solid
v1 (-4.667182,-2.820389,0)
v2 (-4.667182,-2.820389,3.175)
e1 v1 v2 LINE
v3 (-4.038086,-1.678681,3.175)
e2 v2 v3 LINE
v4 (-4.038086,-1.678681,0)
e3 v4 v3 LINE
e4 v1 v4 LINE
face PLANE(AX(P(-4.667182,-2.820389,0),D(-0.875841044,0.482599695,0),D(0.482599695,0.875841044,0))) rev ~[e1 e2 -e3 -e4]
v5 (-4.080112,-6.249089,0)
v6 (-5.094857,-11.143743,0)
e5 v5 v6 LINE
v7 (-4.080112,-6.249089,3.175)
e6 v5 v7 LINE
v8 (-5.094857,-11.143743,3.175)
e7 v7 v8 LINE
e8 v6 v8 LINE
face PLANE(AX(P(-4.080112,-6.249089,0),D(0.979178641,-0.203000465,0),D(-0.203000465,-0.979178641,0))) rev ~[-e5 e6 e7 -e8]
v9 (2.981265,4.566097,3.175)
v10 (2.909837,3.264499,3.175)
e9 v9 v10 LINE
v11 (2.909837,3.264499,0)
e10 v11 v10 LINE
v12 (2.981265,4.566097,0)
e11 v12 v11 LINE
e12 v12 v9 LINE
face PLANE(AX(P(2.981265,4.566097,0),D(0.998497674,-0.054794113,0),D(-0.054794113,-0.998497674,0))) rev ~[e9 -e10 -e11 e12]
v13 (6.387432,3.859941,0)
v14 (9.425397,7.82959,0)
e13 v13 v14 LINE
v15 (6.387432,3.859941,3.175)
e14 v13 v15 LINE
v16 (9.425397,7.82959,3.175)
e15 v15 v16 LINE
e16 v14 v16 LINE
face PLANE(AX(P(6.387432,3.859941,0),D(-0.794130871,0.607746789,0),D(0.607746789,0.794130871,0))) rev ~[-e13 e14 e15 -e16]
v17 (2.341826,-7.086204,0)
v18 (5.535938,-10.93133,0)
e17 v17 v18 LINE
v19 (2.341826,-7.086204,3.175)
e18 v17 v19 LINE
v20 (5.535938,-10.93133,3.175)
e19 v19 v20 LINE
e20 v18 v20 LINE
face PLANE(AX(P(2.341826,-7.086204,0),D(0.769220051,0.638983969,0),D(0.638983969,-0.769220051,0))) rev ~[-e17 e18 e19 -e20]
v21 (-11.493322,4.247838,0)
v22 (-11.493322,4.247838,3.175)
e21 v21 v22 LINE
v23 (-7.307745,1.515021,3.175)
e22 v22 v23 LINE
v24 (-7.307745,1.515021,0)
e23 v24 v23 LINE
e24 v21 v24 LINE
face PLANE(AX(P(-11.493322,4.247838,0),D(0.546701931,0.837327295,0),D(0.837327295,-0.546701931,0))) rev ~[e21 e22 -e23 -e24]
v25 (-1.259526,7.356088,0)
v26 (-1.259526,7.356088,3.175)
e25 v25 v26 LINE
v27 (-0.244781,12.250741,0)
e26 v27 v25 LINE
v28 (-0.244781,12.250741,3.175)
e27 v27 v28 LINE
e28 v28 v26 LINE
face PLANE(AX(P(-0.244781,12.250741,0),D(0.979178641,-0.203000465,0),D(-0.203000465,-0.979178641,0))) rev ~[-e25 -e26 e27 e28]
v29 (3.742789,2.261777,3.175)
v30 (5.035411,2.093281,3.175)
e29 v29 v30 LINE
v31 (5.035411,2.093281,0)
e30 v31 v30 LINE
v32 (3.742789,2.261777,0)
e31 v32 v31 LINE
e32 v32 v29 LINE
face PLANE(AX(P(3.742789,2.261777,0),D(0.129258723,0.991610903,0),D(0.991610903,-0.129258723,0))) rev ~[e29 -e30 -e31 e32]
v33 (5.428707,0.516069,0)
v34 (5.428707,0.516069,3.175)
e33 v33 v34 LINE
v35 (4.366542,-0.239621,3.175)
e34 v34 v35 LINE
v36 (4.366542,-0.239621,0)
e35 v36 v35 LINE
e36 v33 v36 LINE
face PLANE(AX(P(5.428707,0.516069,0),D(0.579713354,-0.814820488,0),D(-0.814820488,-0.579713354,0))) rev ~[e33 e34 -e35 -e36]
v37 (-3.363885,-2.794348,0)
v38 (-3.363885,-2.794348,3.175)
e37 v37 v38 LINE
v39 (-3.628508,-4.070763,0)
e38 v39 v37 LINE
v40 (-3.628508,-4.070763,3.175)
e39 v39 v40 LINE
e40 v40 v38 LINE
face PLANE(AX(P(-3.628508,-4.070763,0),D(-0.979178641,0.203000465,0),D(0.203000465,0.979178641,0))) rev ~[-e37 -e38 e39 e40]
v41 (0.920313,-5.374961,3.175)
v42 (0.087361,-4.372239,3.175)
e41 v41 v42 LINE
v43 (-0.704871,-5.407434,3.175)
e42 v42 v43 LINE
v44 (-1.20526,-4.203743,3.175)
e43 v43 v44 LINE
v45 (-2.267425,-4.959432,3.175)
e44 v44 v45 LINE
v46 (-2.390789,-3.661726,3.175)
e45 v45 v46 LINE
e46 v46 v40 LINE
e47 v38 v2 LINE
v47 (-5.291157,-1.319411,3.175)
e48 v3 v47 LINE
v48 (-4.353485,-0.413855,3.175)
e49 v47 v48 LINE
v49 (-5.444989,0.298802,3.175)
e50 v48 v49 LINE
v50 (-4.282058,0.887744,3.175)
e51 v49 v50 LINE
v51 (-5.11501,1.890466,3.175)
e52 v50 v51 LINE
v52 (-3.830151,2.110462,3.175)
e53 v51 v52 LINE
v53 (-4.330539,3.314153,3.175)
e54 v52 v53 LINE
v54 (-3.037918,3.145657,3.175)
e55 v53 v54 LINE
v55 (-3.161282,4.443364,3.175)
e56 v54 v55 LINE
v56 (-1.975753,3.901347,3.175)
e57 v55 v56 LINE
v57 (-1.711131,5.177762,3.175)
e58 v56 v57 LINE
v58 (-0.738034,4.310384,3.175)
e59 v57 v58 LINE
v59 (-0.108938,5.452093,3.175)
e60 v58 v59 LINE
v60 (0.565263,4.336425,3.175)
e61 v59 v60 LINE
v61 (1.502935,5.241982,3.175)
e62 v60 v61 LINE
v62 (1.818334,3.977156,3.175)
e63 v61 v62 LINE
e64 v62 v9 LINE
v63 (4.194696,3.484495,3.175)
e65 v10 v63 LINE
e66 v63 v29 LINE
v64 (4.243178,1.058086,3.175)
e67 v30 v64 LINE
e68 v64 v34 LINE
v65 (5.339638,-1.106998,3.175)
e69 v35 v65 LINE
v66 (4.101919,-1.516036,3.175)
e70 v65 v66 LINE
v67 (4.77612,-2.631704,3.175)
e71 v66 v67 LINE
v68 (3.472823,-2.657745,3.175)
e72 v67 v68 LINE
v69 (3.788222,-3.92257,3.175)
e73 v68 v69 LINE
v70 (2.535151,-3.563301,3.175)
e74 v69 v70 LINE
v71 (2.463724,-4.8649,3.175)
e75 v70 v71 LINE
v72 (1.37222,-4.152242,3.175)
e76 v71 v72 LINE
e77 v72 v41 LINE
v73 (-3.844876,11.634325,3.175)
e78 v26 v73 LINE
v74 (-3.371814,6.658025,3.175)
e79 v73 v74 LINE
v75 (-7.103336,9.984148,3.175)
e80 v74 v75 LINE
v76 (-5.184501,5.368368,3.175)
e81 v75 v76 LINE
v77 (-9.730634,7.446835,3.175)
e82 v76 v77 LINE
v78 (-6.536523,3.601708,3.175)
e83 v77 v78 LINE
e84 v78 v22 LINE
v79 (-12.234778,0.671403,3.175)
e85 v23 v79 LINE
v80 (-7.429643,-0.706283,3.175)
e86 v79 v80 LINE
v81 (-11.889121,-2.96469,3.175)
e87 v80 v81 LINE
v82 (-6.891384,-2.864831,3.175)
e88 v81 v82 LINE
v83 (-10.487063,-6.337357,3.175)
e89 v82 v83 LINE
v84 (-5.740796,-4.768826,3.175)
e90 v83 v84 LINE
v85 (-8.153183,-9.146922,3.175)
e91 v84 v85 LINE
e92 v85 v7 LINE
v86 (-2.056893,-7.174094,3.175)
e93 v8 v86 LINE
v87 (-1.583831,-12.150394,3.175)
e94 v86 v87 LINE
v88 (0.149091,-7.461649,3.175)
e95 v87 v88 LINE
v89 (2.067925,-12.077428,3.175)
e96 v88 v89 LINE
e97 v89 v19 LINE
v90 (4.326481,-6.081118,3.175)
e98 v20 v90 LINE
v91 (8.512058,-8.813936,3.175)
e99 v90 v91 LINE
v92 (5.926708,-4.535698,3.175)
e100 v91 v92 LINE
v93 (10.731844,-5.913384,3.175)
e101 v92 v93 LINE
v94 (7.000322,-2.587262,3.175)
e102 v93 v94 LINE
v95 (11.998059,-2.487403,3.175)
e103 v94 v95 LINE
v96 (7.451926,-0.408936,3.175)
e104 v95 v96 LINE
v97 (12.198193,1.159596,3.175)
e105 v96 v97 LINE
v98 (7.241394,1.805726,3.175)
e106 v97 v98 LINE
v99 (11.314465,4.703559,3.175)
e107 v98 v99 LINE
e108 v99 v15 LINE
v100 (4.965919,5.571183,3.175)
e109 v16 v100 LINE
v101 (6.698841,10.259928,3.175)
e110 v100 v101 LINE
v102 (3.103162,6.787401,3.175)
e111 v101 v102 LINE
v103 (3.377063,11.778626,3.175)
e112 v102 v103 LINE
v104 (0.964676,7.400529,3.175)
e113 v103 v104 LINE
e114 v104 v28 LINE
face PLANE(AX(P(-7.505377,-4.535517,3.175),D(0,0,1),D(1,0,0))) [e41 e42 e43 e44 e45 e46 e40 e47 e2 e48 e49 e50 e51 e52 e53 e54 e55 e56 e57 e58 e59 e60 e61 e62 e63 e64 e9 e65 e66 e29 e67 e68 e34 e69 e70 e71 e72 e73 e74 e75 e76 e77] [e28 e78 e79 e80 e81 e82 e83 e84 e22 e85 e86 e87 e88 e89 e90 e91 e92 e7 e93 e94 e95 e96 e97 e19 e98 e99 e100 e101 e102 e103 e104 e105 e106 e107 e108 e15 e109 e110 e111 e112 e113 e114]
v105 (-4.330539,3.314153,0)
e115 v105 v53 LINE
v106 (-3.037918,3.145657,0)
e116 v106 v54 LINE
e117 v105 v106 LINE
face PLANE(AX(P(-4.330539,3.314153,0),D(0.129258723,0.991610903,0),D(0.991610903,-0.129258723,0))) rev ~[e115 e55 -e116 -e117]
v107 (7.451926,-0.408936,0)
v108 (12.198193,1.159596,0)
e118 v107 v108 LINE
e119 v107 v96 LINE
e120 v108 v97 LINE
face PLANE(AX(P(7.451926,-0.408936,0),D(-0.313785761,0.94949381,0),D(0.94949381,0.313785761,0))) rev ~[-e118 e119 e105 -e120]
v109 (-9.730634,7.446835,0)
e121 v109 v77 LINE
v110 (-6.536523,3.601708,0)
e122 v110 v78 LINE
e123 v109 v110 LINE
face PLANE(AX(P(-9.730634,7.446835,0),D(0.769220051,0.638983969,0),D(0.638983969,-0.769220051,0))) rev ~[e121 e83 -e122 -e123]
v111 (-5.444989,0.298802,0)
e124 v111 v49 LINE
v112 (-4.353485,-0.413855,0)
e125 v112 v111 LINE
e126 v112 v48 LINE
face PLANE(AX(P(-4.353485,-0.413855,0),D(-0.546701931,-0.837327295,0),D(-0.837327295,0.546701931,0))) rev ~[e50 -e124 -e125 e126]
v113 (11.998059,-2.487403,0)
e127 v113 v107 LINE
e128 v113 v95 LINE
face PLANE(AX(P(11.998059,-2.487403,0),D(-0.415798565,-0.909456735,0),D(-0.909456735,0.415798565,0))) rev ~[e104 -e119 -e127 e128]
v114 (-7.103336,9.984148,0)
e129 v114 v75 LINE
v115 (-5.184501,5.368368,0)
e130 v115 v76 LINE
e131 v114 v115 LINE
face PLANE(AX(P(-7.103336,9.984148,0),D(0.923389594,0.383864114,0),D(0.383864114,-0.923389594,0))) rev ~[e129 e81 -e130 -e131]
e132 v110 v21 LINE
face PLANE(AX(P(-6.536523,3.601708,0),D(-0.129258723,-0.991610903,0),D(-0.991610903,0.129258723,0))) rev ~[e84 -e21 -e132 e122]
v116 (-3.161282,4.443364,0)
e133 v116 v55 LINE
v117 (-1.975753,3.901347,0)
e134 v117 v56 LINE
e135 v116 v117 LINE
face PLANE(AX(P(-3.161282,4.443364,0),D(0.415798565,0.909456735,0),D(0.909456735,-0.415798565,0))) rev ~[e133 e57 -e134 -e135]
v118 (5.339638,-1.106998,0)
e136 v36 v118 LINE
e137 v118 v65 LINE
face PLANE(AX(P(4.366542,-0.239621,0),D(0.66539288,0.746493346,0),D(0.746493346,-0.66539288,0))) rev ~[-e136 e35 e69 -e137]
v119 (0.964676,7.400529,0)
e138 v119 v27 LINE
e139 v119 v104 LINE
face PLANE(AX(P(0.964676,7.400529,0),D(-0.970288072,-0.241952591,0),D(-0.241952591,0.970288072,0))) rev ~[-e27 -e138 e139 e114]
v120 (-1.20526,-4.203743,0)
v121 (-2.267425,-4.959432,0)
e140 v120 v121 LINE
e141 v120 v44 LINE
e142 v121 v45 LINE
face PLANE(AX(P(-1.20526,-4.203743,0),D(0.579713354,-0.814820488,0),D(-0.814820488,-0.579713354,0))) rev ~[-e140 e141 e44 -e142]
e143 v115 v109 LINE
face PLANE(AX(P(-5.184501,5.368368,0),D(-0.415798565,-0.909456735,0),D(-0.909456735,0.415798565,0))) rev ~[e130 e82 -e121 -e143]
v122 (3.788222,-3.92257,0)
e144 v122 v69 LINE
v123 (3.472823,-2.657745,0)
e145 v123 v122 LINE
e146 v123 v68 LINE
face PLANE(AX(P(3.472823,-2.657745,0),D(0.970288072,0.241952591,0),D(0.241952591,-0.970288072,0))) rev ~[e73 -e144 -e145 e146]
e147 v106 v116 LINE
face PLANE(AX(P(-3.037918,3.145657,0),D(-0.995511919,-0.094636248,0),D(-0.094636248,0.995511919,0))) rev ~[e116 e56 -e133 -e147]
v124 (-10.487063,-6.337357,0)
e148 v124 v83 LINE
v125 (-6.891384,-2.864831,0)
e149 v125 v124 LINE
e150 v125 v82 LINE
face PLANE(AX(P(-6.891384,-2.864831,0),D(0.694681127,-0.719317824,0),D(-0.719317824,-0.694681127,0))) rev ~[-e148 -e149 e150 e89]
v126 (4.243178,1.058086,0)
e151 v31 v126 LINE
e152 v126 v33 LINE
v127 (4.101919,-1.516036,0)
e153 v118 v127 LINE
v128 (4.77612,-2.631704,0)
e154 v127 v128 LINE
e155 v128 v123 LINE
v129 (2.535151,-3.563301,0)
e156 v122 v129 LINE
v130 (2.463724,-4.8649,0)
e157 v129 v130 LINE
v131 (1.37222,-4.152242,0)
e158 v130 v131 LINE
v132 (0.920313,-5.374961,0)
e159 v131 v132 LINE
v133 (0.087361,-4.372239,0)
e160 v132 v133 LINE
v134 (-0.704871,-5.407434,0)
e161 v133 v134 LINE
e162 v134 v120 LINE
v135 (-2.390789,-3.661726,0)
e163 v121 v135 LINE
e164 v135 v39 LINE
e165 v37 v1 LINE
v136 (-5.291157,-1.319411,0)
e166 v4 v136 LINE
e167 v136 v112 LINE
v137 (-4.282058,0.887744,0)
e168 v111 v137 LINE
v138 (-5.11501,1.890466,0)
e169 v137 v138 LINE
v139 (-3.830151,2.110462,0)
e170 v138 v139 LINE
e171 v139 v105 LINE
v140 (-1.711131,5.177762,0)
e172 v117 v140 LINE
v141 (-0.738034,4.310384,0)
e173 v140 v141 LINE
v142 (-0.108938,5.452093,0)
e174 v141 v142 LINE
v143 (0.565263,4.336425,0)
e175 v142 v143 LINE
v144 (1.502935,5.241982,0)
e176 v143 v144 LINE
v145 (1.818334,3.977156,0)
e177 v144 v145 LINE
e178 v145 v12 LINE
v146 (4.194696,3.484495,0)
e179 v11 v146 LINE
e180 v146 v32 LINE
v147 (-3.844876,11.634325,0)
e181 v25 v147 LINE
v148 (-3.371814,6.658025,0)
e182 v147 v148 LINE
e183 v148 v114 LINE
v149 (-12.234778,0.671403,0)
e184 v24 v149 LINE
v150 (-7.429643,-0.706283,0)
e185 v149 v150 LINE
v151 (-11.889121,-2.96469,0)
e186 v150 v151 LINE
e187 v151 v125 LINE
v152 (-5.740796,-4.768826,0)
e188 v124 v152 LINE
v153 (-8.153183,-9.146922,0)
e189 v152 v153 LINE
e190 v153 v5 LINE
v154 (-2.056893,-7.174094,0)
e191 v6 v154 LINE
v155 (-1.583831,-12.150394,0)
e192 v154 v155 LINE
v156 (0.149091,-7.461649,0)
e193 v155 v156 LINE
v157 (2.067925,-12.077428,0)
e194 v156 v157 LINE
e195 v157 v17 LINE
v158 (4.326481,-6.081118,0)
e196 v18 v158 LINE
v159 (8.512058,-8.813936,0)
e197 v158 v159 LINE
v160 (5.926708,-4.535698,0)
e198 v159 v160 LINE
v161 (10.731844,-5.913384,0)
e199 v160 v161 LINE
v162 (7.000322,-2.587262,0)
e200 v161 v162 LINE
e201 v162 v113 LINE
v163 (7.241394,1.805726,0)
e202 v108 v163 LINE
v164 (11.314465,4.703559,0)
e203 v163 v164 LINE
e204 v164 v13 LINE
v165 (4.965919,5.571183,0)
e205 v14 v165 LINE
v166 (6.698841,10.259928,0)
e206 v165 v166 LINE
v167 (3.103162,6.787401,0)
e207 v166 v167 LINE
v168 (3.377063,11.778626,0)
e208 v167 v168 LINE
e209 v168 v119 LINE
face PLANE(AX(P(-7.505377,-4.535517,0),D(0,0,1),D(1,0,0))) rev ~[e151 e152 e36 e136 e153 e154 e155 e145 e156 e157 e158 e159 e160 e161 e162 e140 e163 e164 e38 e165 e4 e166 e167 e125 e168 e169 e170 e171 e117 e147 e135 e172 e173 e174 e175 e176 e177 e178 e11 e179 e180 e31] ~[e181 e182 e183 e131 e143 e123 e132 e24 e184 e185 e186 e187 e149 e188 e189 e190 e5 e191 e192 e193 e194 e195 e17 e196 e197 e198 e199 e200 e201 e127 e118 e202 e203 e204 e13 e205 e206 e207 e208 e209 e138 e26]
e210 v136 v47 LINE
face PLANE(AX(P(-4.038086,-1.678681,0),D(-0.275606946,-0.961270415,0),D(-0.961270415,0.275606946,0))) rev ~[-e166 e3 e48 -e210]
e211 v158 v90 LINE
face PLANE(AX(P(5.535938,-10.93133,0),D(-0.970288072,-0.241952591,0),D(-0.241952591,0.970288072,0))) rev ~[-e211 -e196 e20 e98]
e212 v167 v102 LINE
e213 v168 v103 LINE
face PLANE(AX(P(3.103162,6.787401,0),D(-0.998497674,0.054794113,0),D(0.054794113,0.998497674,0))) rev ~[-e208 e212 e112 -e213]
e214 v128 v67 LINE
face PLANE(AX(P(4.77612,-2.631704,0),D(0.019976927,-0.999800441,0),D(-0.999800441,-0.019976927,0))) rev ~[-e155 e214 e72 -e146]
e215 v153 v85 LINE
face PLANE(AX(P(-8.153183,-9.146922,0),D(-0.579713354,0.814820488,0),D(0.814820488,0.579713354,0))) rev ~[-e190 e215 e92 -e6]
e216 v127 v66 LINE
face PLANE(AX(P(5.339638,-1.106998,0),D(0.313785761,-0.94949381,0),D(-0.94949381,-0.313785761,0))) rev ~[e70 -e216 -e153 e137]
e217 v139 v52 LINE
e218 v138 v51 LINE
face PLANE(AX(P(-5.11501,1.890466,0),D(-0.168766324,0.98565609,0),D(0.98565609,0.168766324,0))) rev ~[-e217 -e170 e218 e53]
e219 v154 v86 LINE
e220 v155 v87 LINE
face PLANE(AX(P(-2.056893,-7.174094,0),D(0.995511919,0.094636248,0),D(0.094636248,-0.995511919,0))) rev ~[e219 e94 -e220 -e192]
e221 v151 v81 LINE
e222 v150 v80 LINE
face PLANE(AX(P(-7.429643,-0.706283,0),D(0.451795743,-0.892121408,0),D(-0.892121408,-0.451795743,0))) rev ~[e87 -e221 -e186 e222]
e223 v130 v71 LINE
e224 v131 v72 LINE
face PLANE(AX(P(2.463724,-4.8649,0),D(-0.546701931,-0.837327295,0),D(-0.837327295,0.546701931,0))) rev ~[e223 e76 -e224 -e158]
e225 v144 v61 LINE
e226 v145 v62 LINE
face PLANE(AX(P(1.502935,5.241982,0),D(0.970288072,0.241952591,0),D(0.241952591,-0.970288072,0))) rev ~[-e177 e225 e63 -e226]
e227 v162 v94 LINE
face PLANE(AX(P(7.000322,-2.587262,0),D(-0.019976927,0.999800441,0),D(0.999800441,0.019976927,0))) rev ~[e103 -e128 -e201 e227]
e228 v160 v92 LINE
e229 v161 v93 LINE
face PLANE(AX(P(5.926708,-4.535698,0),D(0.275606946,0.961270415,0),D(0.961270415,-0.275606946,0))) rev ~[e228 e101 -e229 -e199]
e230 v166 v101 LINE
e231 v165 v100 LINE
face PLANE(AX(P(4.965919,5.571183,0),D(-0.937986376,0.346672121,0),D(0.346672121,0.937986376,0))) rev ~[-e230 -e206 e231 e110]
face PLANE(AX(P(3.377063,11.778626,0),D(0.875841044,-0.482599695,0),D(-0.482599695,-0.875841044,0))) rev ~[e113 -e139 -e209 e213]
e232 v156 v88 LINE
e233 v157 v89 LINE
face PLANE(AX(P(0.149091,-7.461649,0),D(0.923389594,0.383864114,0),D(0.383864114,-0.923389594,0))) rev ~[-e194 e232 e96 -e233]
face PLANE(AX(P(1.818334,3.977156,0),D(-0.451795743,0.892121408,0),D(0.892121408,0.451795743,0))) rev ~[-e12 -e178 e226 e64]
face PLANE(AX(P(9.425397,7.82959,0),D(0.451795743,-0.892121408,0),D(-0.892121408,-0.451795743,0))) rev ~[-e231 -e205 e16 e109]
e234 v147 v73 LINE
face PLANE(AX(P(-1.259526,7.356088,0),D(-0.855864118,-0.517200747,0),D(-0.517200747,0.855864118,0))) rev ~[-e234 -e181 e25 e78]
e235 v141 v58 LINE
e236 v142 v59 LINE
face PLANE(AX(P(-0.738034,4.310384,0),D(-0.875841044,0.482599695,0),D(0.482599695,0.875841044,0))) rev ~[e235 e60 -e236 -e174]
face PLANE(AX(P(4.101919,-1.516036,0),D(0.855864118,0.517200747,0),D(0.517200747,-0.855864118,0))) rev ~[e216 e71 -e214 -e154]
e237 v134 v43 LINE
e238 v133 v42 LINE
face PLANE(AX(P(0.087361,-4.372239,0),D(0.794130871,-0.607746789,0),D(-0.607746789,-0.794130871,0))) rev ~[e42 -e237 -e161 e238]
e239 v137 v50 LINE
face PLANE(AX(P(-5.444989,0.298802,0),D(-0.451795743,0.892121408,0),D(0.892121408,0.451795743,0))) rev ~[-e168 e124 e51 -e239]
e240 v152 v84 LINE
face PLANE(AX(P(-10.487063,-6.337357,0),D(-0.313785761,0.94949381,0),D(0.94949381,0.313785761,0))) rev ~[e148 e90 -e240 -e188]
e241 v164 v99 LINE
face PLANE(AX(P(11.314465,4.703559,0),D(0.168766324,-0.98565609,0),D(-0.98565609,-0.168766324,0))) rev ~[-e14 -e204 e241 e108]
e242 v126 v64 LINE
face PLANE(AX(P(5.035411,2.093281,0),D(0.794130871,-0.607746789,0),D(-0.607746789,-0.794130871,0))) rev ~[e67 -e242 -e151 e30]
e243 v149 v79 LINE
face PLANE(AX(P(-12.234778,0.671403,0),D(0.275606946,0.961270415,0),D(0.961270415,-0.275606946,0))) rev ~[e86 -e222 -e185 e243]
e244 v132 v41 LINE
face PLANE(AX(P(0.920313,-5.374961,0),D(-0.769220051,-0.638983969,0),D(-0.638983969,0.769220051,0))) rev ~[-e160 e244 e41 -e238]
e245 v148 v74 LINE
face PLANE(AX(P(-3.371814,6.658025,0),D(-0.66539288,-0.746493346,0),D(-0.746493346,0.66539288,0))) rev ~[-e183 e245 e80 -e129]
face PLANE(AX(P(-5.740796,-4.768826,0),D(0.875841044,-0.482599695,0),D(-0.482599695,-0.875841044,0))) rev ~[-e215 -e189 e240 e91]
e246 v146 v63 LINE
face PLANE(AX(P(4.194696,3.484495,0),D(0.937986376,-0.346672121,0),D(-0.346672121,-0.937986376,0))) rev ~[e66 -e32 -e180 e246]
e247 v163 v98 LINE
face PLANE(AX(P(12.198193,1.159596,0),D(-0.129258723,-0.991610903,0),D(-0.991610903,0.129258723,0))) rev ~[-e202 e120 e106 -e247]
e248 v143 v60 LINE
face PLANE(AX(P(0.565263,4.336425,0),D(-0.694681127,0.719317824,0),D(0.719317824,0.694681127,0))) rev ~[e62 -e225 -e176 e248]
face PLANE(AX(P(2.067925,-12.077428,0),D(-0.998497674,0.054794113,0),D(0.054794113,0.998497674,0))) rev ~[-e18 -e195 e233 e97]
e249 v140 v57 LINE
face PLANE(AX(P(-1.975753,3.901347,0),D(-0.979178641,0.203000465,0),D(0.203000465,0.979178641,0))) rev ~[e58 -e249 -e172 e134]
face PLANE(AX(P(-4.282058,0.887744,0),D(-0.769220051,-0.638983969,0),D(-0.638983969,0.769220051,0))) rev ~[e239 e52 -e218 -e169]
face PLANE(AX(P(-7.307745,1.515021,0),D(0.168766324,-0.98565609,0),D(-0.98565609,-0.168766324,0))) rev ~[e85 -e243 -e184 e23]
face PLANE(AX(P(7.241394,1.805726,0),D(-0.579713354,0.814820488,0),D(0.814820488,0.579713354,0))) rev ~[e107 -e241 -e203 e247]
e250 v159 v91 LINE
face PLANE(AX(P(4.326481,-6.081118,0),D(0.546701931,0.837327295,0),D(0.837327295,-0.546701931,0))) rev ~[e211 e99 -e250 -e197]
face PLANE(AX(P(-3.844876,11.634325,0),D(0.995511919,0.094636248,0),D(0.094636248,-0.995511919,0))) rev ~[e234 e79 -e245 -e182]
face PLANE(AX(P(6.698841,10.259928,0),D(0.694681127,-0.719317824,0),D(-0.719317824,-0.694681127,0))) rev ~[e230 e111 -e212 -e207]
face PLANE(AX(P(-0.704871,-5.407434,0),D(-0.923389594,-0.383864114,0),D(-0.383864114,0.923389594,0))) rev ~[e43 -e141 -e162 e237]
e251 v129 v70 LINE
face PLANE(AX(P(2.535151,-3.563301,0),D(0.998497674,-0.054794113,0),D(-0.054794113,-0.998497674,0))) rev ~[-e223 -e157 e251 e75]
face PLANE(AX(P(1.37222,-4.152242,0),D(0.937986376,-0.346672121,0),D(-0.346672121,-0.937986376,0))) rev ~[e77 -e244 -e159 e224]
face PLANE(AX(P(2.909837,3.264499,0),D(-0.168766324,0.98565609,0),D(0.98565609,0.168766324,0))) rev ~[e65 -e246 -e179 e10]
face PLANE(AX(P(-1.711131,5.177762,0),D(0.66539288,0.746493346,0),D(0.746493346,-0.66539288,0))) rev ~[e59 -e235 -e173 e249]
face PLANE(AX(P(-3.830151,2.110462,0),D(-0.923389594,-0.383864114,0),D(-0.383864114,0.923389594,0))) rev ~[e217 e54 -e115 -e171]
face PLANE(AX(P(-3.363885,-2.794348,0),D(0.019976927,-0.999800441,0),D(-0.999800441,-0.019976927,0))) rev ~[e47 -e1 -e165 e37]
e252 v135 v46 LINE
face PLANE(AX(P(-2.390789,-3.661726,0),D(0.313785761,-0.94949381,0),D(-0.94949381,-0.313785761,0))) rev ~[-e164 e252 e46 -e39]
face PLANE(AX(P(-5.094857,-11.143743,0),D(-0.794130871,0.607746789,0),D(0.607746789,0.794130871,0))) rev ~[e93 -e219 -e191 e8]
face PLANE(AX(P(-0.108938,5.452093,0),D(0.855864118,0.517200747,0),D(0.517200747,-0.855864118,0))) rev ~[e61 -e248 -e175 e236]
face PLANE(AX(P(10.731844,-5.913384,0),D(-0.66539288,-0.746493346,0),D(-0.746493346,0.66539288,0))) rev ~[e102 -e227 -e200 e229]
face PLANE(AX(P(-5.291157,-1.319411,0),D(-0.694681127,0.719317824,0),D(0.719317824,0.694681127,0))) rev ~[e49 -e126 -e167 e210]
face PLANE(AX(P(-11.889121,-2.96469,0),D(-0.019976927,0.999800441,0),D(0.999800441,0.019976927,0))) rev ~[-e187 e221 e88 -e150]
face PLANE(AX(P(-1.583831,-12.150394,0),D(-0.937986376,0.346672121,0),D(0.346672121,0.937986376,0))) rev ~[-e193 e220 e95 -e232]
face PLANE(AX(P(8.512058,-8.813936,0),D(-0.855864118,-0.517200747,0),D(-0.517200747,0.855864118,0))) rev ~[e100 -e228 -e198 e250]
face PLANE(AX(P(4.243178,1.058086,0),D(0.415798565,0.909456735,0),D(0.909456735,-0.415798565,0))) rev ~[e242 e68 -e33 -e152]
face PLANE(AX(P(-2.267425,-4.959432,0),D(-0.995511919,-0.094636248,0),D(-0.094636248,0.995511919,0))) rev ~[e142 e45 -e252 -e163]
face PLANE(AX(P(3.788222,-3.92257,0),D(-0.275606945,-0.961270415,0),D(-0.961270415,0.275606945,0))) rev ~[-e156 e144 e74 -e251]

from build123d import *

# Parameters (mm, degrees)
F1_DEPTH = 3.175


with BuildPart() as f1:
    # F0 (on Top) → F1 (new body)
    with BuildSketch(Plane.XY):
        Polygon((-10.4870628137, -6.3373573051), (-5.7407955294, -4.7688256549), (-4.6671820235, -2.8203893327), (-6.8913841292, -2.8648309238), align=None)
        Polygon((-8.1531831795, -9.14692233), (-4.0801120539, -6.2490892989), (-3.6285078717, -4.0707633994), (-5.7407955294, -4.7688256549), align=None)
        Polygon((-4.0801120539, -6.2490892989), (-5.0948574403, -11.1437431653), (-2.056892717, -7.174093935), (-2.267424872, -4.9594322738), align=None)
        Polygon((-0.704871222, -5.4074338266), (-2.056892717, -7.174093935), (-1.583831259, -12.1503935168), (0.1490905642, -7.461648842), align=None)
        Polygon((2.4637240027, -4.8648995948), (2.3418264946, -7.0862035045), (5.5359375832, -10.9313301636), (4.326480864, -6.0811178883), align=None)
        Polygon((3.7882219865, -3.9225703575), (4.326480864, -6.0811178883), (8.512057538, -8.8139355875), (5.9267084221, -4.5356982612), align=None)
        Polygon((4.7761198224, -2.6317035301), (5.9267084221, -4.5356982612), (10.7318438259, -5.9133841552), (7.0003219281, -2.587261939), align=None)
        Polygon((5.3396384525, -1.106998295), (7.0003219281, -2.587261939), (11.998058694, -2.4874025902), (7.4519261103, -0.4089360395), align=None)
        Polygon((5.4287067735, 0.5160685966), (7.4519261103, -0.4089360395), (12.1981933945, 1.1595956107), (7.2413939554, 1.8057256217), align=None)
        Polygon((5.0354106741, 2.0932805287), (7.2413939554, 1.8057256217), (11.314465081, 4.7035586528), (6.3874321692, 3.8599406371), align=None)
        Polygon((4.1946962388, 3.4844952996), (6.3874321692, 3.8599406371), (9.4253968924, 7.8295898674), (4.965919004, 5.5711829878), align=None)
        Polygon((2.9812646346, 4.5660973716), (4.965919004, 5.5711829878), (6.6988408272, 10.2599276626), (3.1031621427, 6.7874012813), align=None)
        Polygon((0.964675707, 7.400529185), (1.5029345845, 5.2419816542), (3.1031621427, 6.7874012813), (3.3770633571, 11.7786258601), align=None)
        Polygon((-0.2447810122, 12.2507414603), (-1.2595263986, 7.3560875939), (-0.1089377989, 5.4520928628), (0.964675707, 7.400529185), align=None)
        Polygon((-3.3718140564, 6.6580253384), (-1.7111305808, 5.1777616944), (-1.2595263986, 7.3560875939), (-3.8448755144, 11.6343249202), align=None)
        Polygon((-7.1033359542, 9.9841475546), (-5.1845012383, 5.3683683133), (-3.1612819015, 4.4433636772), (-3.3718140564, 6.6580253384), align=None)
        Polygon((-9.730633822, 7.446834864), (-6.5365227334, 3.6017082049), (-4.3305394521, 3.3141532979), (-5.1845012383, 5.3683683133), align=None)
        Polygon((-11.4933221725, 4.2478382159), (-7.3077454986, 1.5150205167), (-5.1150095682, 1.8904658542), (-6.5365227334, 3.6017082049), align=None)
        Polygon((-12.2347784104, 0.671402501), (-7.4296430067, -0.706283393), (-5.4449886373, 0.2988022231), (-7.3077454986, 1.5150205167), align=None)
        Polygon((-11.8891208951, -2.9646902726), (-6.8913841292, -2.8648309238), (-5.291156571, -1.3194112967), (-7.4296430067, -0.706283393), align=None)
        Polygon((-6.8913841292, -2.8648309238), (-4.6671820235, -2.8203893327), (-4.0380858348, -1.6786806476), (-5.291156571, -1.3194112967), align=None)
        Polygon((-5.7407955294, -4.7688256549), (-3.6285078717, -4.0707633994), (-3.3638852041, -2.794348271), (-4.6671820235, -2.8203893327), align=None)
        Polygon((-3.6285078717, -4.0707633994), (-4.0801120539, -6.2490892989), (-2.267424872, -4.9594322738), (-2.3907886109, -3.6617257877), align=None)
        Polygon((-2.267424872, -4.9594322738), (-2.056892717, -7.174093935), (-0.704871222, -5.4074338266), (-1.2052599578, -4.2037428989), align=None)
        Polygon((0.0873613318, -4.3722390058), (-0.704871222, -5.4074338266), (0.1490905642, -7.461648842), (0.9203133294, -5.3749611537), align=None)
        Polygon((0.9203133294, -5.3749611537), (0.1490905642, -7.461648842), (2.0679252801, -12.0774280832), (2.3418264946, -7.0862035045), align=None)
        Polygon((1.3722201837, -4.1522424897), (0.9203133294, -5.3749611537), (2.3418264946, -7.0862035045), (2.4637240027, -4.8648995948), align=None)
        Polygon((2.5351512503, -3.5633010067), (2.4637240027, -4.8648995948), (4.326480864, -6.0811178883), (3.7882219865, -3.9225703575), align=None)
        Polygon((3.4728230031, -2.6577445918), (3.7882219865, -3.9225703575), (5.9267084221, -4.5356982612), (4.7761198224, -2.6317035301), align=None)
        Polygon((4.1019191917, -1.5160359067), (4.7761198224, -2.6317035301), (7.0003219281, -2.587261939), (5.3396384525, -1.106998295), align=None)
        Polygon((4.3665418593, -0.2396207783), (5.3396384525, -1.106998295), (7.4519261103, -0.4089360395), (5.4287067735, 0.5160685966), align=None)
        Polygon((4.2431781203, 1.0580857079), (5.4287067735, 0.5160685966), (7.2413939554, 1.8057256217), (5.0354106741, 2.0932805287), align=None)
        Polygon((3.7427893845, 2.2617766355), (5.0354106741, 2.0932805287), (6.3874321692, 3.8599406371), (4.1946962388, 3.4844952996), align=None)
        Polygon((2.9098373869, 3.2644987835), (4.1946962388, 3.4844952996), (4.965919004, 5.5711829878), (2.9812646346, 4.5660973716), align=None)
        Polygon((1.5029345845, 5.2419816542), (1.8183335679, 3.9771558885), (2.9812646346, 4.5660973716), (3.1031621427, 6.7874012813), align=None)
        Polygon((-0.1089377989, 5.4520928628), (0.5652628318, 4.3364252394), (1.5029345845, 5.2419816542), (0.964675707, 7.400529185), align=None)
        Polygon((-1.2595263986, 7.3560875939), (-1.7111305808, 5.1777616944), (-0.7380339876, 4.3103841777), (-0.1089377989, 5.4520928628), align=None)
        Polygon((-3.1612819015, 4.4433636772), (-1.9757532484, 3.9013465659), (-1.7111305808, 5.1777616944), (-3.3718140564, 6.6580253384), align=None)
        Polygon((-5.1845012383, 5.3683683133), (-4.3305394521, 3.3141532979), (-3.0379181626, 3.145657191), (-3.1612819015, 4.4433636772), align=None)
        Polygon((-6.5365227334, 3.6017082049), (-5.1150095682, 1.8904658542), (-3.8301507163, 2.1104623702), (-4.3305394521, 3.3141532979), align=None)
        Polygon((-7.3077454986, 1.5150205167), (-5.4449886373, 0.2988022231), (-4.2820575706, 0.8877437062), (-5.1150095682, 1.8904658542), align=None)
        Polygon((-7.4296430067, -0.706283393), (-5.291156571, -1.3194112967), (-4.3534848183, -0.4138548819), (-5.4449886373, 0.2988022231), align=None)
    extrude(amount=F1_DEPTH)


solid = f1.part
